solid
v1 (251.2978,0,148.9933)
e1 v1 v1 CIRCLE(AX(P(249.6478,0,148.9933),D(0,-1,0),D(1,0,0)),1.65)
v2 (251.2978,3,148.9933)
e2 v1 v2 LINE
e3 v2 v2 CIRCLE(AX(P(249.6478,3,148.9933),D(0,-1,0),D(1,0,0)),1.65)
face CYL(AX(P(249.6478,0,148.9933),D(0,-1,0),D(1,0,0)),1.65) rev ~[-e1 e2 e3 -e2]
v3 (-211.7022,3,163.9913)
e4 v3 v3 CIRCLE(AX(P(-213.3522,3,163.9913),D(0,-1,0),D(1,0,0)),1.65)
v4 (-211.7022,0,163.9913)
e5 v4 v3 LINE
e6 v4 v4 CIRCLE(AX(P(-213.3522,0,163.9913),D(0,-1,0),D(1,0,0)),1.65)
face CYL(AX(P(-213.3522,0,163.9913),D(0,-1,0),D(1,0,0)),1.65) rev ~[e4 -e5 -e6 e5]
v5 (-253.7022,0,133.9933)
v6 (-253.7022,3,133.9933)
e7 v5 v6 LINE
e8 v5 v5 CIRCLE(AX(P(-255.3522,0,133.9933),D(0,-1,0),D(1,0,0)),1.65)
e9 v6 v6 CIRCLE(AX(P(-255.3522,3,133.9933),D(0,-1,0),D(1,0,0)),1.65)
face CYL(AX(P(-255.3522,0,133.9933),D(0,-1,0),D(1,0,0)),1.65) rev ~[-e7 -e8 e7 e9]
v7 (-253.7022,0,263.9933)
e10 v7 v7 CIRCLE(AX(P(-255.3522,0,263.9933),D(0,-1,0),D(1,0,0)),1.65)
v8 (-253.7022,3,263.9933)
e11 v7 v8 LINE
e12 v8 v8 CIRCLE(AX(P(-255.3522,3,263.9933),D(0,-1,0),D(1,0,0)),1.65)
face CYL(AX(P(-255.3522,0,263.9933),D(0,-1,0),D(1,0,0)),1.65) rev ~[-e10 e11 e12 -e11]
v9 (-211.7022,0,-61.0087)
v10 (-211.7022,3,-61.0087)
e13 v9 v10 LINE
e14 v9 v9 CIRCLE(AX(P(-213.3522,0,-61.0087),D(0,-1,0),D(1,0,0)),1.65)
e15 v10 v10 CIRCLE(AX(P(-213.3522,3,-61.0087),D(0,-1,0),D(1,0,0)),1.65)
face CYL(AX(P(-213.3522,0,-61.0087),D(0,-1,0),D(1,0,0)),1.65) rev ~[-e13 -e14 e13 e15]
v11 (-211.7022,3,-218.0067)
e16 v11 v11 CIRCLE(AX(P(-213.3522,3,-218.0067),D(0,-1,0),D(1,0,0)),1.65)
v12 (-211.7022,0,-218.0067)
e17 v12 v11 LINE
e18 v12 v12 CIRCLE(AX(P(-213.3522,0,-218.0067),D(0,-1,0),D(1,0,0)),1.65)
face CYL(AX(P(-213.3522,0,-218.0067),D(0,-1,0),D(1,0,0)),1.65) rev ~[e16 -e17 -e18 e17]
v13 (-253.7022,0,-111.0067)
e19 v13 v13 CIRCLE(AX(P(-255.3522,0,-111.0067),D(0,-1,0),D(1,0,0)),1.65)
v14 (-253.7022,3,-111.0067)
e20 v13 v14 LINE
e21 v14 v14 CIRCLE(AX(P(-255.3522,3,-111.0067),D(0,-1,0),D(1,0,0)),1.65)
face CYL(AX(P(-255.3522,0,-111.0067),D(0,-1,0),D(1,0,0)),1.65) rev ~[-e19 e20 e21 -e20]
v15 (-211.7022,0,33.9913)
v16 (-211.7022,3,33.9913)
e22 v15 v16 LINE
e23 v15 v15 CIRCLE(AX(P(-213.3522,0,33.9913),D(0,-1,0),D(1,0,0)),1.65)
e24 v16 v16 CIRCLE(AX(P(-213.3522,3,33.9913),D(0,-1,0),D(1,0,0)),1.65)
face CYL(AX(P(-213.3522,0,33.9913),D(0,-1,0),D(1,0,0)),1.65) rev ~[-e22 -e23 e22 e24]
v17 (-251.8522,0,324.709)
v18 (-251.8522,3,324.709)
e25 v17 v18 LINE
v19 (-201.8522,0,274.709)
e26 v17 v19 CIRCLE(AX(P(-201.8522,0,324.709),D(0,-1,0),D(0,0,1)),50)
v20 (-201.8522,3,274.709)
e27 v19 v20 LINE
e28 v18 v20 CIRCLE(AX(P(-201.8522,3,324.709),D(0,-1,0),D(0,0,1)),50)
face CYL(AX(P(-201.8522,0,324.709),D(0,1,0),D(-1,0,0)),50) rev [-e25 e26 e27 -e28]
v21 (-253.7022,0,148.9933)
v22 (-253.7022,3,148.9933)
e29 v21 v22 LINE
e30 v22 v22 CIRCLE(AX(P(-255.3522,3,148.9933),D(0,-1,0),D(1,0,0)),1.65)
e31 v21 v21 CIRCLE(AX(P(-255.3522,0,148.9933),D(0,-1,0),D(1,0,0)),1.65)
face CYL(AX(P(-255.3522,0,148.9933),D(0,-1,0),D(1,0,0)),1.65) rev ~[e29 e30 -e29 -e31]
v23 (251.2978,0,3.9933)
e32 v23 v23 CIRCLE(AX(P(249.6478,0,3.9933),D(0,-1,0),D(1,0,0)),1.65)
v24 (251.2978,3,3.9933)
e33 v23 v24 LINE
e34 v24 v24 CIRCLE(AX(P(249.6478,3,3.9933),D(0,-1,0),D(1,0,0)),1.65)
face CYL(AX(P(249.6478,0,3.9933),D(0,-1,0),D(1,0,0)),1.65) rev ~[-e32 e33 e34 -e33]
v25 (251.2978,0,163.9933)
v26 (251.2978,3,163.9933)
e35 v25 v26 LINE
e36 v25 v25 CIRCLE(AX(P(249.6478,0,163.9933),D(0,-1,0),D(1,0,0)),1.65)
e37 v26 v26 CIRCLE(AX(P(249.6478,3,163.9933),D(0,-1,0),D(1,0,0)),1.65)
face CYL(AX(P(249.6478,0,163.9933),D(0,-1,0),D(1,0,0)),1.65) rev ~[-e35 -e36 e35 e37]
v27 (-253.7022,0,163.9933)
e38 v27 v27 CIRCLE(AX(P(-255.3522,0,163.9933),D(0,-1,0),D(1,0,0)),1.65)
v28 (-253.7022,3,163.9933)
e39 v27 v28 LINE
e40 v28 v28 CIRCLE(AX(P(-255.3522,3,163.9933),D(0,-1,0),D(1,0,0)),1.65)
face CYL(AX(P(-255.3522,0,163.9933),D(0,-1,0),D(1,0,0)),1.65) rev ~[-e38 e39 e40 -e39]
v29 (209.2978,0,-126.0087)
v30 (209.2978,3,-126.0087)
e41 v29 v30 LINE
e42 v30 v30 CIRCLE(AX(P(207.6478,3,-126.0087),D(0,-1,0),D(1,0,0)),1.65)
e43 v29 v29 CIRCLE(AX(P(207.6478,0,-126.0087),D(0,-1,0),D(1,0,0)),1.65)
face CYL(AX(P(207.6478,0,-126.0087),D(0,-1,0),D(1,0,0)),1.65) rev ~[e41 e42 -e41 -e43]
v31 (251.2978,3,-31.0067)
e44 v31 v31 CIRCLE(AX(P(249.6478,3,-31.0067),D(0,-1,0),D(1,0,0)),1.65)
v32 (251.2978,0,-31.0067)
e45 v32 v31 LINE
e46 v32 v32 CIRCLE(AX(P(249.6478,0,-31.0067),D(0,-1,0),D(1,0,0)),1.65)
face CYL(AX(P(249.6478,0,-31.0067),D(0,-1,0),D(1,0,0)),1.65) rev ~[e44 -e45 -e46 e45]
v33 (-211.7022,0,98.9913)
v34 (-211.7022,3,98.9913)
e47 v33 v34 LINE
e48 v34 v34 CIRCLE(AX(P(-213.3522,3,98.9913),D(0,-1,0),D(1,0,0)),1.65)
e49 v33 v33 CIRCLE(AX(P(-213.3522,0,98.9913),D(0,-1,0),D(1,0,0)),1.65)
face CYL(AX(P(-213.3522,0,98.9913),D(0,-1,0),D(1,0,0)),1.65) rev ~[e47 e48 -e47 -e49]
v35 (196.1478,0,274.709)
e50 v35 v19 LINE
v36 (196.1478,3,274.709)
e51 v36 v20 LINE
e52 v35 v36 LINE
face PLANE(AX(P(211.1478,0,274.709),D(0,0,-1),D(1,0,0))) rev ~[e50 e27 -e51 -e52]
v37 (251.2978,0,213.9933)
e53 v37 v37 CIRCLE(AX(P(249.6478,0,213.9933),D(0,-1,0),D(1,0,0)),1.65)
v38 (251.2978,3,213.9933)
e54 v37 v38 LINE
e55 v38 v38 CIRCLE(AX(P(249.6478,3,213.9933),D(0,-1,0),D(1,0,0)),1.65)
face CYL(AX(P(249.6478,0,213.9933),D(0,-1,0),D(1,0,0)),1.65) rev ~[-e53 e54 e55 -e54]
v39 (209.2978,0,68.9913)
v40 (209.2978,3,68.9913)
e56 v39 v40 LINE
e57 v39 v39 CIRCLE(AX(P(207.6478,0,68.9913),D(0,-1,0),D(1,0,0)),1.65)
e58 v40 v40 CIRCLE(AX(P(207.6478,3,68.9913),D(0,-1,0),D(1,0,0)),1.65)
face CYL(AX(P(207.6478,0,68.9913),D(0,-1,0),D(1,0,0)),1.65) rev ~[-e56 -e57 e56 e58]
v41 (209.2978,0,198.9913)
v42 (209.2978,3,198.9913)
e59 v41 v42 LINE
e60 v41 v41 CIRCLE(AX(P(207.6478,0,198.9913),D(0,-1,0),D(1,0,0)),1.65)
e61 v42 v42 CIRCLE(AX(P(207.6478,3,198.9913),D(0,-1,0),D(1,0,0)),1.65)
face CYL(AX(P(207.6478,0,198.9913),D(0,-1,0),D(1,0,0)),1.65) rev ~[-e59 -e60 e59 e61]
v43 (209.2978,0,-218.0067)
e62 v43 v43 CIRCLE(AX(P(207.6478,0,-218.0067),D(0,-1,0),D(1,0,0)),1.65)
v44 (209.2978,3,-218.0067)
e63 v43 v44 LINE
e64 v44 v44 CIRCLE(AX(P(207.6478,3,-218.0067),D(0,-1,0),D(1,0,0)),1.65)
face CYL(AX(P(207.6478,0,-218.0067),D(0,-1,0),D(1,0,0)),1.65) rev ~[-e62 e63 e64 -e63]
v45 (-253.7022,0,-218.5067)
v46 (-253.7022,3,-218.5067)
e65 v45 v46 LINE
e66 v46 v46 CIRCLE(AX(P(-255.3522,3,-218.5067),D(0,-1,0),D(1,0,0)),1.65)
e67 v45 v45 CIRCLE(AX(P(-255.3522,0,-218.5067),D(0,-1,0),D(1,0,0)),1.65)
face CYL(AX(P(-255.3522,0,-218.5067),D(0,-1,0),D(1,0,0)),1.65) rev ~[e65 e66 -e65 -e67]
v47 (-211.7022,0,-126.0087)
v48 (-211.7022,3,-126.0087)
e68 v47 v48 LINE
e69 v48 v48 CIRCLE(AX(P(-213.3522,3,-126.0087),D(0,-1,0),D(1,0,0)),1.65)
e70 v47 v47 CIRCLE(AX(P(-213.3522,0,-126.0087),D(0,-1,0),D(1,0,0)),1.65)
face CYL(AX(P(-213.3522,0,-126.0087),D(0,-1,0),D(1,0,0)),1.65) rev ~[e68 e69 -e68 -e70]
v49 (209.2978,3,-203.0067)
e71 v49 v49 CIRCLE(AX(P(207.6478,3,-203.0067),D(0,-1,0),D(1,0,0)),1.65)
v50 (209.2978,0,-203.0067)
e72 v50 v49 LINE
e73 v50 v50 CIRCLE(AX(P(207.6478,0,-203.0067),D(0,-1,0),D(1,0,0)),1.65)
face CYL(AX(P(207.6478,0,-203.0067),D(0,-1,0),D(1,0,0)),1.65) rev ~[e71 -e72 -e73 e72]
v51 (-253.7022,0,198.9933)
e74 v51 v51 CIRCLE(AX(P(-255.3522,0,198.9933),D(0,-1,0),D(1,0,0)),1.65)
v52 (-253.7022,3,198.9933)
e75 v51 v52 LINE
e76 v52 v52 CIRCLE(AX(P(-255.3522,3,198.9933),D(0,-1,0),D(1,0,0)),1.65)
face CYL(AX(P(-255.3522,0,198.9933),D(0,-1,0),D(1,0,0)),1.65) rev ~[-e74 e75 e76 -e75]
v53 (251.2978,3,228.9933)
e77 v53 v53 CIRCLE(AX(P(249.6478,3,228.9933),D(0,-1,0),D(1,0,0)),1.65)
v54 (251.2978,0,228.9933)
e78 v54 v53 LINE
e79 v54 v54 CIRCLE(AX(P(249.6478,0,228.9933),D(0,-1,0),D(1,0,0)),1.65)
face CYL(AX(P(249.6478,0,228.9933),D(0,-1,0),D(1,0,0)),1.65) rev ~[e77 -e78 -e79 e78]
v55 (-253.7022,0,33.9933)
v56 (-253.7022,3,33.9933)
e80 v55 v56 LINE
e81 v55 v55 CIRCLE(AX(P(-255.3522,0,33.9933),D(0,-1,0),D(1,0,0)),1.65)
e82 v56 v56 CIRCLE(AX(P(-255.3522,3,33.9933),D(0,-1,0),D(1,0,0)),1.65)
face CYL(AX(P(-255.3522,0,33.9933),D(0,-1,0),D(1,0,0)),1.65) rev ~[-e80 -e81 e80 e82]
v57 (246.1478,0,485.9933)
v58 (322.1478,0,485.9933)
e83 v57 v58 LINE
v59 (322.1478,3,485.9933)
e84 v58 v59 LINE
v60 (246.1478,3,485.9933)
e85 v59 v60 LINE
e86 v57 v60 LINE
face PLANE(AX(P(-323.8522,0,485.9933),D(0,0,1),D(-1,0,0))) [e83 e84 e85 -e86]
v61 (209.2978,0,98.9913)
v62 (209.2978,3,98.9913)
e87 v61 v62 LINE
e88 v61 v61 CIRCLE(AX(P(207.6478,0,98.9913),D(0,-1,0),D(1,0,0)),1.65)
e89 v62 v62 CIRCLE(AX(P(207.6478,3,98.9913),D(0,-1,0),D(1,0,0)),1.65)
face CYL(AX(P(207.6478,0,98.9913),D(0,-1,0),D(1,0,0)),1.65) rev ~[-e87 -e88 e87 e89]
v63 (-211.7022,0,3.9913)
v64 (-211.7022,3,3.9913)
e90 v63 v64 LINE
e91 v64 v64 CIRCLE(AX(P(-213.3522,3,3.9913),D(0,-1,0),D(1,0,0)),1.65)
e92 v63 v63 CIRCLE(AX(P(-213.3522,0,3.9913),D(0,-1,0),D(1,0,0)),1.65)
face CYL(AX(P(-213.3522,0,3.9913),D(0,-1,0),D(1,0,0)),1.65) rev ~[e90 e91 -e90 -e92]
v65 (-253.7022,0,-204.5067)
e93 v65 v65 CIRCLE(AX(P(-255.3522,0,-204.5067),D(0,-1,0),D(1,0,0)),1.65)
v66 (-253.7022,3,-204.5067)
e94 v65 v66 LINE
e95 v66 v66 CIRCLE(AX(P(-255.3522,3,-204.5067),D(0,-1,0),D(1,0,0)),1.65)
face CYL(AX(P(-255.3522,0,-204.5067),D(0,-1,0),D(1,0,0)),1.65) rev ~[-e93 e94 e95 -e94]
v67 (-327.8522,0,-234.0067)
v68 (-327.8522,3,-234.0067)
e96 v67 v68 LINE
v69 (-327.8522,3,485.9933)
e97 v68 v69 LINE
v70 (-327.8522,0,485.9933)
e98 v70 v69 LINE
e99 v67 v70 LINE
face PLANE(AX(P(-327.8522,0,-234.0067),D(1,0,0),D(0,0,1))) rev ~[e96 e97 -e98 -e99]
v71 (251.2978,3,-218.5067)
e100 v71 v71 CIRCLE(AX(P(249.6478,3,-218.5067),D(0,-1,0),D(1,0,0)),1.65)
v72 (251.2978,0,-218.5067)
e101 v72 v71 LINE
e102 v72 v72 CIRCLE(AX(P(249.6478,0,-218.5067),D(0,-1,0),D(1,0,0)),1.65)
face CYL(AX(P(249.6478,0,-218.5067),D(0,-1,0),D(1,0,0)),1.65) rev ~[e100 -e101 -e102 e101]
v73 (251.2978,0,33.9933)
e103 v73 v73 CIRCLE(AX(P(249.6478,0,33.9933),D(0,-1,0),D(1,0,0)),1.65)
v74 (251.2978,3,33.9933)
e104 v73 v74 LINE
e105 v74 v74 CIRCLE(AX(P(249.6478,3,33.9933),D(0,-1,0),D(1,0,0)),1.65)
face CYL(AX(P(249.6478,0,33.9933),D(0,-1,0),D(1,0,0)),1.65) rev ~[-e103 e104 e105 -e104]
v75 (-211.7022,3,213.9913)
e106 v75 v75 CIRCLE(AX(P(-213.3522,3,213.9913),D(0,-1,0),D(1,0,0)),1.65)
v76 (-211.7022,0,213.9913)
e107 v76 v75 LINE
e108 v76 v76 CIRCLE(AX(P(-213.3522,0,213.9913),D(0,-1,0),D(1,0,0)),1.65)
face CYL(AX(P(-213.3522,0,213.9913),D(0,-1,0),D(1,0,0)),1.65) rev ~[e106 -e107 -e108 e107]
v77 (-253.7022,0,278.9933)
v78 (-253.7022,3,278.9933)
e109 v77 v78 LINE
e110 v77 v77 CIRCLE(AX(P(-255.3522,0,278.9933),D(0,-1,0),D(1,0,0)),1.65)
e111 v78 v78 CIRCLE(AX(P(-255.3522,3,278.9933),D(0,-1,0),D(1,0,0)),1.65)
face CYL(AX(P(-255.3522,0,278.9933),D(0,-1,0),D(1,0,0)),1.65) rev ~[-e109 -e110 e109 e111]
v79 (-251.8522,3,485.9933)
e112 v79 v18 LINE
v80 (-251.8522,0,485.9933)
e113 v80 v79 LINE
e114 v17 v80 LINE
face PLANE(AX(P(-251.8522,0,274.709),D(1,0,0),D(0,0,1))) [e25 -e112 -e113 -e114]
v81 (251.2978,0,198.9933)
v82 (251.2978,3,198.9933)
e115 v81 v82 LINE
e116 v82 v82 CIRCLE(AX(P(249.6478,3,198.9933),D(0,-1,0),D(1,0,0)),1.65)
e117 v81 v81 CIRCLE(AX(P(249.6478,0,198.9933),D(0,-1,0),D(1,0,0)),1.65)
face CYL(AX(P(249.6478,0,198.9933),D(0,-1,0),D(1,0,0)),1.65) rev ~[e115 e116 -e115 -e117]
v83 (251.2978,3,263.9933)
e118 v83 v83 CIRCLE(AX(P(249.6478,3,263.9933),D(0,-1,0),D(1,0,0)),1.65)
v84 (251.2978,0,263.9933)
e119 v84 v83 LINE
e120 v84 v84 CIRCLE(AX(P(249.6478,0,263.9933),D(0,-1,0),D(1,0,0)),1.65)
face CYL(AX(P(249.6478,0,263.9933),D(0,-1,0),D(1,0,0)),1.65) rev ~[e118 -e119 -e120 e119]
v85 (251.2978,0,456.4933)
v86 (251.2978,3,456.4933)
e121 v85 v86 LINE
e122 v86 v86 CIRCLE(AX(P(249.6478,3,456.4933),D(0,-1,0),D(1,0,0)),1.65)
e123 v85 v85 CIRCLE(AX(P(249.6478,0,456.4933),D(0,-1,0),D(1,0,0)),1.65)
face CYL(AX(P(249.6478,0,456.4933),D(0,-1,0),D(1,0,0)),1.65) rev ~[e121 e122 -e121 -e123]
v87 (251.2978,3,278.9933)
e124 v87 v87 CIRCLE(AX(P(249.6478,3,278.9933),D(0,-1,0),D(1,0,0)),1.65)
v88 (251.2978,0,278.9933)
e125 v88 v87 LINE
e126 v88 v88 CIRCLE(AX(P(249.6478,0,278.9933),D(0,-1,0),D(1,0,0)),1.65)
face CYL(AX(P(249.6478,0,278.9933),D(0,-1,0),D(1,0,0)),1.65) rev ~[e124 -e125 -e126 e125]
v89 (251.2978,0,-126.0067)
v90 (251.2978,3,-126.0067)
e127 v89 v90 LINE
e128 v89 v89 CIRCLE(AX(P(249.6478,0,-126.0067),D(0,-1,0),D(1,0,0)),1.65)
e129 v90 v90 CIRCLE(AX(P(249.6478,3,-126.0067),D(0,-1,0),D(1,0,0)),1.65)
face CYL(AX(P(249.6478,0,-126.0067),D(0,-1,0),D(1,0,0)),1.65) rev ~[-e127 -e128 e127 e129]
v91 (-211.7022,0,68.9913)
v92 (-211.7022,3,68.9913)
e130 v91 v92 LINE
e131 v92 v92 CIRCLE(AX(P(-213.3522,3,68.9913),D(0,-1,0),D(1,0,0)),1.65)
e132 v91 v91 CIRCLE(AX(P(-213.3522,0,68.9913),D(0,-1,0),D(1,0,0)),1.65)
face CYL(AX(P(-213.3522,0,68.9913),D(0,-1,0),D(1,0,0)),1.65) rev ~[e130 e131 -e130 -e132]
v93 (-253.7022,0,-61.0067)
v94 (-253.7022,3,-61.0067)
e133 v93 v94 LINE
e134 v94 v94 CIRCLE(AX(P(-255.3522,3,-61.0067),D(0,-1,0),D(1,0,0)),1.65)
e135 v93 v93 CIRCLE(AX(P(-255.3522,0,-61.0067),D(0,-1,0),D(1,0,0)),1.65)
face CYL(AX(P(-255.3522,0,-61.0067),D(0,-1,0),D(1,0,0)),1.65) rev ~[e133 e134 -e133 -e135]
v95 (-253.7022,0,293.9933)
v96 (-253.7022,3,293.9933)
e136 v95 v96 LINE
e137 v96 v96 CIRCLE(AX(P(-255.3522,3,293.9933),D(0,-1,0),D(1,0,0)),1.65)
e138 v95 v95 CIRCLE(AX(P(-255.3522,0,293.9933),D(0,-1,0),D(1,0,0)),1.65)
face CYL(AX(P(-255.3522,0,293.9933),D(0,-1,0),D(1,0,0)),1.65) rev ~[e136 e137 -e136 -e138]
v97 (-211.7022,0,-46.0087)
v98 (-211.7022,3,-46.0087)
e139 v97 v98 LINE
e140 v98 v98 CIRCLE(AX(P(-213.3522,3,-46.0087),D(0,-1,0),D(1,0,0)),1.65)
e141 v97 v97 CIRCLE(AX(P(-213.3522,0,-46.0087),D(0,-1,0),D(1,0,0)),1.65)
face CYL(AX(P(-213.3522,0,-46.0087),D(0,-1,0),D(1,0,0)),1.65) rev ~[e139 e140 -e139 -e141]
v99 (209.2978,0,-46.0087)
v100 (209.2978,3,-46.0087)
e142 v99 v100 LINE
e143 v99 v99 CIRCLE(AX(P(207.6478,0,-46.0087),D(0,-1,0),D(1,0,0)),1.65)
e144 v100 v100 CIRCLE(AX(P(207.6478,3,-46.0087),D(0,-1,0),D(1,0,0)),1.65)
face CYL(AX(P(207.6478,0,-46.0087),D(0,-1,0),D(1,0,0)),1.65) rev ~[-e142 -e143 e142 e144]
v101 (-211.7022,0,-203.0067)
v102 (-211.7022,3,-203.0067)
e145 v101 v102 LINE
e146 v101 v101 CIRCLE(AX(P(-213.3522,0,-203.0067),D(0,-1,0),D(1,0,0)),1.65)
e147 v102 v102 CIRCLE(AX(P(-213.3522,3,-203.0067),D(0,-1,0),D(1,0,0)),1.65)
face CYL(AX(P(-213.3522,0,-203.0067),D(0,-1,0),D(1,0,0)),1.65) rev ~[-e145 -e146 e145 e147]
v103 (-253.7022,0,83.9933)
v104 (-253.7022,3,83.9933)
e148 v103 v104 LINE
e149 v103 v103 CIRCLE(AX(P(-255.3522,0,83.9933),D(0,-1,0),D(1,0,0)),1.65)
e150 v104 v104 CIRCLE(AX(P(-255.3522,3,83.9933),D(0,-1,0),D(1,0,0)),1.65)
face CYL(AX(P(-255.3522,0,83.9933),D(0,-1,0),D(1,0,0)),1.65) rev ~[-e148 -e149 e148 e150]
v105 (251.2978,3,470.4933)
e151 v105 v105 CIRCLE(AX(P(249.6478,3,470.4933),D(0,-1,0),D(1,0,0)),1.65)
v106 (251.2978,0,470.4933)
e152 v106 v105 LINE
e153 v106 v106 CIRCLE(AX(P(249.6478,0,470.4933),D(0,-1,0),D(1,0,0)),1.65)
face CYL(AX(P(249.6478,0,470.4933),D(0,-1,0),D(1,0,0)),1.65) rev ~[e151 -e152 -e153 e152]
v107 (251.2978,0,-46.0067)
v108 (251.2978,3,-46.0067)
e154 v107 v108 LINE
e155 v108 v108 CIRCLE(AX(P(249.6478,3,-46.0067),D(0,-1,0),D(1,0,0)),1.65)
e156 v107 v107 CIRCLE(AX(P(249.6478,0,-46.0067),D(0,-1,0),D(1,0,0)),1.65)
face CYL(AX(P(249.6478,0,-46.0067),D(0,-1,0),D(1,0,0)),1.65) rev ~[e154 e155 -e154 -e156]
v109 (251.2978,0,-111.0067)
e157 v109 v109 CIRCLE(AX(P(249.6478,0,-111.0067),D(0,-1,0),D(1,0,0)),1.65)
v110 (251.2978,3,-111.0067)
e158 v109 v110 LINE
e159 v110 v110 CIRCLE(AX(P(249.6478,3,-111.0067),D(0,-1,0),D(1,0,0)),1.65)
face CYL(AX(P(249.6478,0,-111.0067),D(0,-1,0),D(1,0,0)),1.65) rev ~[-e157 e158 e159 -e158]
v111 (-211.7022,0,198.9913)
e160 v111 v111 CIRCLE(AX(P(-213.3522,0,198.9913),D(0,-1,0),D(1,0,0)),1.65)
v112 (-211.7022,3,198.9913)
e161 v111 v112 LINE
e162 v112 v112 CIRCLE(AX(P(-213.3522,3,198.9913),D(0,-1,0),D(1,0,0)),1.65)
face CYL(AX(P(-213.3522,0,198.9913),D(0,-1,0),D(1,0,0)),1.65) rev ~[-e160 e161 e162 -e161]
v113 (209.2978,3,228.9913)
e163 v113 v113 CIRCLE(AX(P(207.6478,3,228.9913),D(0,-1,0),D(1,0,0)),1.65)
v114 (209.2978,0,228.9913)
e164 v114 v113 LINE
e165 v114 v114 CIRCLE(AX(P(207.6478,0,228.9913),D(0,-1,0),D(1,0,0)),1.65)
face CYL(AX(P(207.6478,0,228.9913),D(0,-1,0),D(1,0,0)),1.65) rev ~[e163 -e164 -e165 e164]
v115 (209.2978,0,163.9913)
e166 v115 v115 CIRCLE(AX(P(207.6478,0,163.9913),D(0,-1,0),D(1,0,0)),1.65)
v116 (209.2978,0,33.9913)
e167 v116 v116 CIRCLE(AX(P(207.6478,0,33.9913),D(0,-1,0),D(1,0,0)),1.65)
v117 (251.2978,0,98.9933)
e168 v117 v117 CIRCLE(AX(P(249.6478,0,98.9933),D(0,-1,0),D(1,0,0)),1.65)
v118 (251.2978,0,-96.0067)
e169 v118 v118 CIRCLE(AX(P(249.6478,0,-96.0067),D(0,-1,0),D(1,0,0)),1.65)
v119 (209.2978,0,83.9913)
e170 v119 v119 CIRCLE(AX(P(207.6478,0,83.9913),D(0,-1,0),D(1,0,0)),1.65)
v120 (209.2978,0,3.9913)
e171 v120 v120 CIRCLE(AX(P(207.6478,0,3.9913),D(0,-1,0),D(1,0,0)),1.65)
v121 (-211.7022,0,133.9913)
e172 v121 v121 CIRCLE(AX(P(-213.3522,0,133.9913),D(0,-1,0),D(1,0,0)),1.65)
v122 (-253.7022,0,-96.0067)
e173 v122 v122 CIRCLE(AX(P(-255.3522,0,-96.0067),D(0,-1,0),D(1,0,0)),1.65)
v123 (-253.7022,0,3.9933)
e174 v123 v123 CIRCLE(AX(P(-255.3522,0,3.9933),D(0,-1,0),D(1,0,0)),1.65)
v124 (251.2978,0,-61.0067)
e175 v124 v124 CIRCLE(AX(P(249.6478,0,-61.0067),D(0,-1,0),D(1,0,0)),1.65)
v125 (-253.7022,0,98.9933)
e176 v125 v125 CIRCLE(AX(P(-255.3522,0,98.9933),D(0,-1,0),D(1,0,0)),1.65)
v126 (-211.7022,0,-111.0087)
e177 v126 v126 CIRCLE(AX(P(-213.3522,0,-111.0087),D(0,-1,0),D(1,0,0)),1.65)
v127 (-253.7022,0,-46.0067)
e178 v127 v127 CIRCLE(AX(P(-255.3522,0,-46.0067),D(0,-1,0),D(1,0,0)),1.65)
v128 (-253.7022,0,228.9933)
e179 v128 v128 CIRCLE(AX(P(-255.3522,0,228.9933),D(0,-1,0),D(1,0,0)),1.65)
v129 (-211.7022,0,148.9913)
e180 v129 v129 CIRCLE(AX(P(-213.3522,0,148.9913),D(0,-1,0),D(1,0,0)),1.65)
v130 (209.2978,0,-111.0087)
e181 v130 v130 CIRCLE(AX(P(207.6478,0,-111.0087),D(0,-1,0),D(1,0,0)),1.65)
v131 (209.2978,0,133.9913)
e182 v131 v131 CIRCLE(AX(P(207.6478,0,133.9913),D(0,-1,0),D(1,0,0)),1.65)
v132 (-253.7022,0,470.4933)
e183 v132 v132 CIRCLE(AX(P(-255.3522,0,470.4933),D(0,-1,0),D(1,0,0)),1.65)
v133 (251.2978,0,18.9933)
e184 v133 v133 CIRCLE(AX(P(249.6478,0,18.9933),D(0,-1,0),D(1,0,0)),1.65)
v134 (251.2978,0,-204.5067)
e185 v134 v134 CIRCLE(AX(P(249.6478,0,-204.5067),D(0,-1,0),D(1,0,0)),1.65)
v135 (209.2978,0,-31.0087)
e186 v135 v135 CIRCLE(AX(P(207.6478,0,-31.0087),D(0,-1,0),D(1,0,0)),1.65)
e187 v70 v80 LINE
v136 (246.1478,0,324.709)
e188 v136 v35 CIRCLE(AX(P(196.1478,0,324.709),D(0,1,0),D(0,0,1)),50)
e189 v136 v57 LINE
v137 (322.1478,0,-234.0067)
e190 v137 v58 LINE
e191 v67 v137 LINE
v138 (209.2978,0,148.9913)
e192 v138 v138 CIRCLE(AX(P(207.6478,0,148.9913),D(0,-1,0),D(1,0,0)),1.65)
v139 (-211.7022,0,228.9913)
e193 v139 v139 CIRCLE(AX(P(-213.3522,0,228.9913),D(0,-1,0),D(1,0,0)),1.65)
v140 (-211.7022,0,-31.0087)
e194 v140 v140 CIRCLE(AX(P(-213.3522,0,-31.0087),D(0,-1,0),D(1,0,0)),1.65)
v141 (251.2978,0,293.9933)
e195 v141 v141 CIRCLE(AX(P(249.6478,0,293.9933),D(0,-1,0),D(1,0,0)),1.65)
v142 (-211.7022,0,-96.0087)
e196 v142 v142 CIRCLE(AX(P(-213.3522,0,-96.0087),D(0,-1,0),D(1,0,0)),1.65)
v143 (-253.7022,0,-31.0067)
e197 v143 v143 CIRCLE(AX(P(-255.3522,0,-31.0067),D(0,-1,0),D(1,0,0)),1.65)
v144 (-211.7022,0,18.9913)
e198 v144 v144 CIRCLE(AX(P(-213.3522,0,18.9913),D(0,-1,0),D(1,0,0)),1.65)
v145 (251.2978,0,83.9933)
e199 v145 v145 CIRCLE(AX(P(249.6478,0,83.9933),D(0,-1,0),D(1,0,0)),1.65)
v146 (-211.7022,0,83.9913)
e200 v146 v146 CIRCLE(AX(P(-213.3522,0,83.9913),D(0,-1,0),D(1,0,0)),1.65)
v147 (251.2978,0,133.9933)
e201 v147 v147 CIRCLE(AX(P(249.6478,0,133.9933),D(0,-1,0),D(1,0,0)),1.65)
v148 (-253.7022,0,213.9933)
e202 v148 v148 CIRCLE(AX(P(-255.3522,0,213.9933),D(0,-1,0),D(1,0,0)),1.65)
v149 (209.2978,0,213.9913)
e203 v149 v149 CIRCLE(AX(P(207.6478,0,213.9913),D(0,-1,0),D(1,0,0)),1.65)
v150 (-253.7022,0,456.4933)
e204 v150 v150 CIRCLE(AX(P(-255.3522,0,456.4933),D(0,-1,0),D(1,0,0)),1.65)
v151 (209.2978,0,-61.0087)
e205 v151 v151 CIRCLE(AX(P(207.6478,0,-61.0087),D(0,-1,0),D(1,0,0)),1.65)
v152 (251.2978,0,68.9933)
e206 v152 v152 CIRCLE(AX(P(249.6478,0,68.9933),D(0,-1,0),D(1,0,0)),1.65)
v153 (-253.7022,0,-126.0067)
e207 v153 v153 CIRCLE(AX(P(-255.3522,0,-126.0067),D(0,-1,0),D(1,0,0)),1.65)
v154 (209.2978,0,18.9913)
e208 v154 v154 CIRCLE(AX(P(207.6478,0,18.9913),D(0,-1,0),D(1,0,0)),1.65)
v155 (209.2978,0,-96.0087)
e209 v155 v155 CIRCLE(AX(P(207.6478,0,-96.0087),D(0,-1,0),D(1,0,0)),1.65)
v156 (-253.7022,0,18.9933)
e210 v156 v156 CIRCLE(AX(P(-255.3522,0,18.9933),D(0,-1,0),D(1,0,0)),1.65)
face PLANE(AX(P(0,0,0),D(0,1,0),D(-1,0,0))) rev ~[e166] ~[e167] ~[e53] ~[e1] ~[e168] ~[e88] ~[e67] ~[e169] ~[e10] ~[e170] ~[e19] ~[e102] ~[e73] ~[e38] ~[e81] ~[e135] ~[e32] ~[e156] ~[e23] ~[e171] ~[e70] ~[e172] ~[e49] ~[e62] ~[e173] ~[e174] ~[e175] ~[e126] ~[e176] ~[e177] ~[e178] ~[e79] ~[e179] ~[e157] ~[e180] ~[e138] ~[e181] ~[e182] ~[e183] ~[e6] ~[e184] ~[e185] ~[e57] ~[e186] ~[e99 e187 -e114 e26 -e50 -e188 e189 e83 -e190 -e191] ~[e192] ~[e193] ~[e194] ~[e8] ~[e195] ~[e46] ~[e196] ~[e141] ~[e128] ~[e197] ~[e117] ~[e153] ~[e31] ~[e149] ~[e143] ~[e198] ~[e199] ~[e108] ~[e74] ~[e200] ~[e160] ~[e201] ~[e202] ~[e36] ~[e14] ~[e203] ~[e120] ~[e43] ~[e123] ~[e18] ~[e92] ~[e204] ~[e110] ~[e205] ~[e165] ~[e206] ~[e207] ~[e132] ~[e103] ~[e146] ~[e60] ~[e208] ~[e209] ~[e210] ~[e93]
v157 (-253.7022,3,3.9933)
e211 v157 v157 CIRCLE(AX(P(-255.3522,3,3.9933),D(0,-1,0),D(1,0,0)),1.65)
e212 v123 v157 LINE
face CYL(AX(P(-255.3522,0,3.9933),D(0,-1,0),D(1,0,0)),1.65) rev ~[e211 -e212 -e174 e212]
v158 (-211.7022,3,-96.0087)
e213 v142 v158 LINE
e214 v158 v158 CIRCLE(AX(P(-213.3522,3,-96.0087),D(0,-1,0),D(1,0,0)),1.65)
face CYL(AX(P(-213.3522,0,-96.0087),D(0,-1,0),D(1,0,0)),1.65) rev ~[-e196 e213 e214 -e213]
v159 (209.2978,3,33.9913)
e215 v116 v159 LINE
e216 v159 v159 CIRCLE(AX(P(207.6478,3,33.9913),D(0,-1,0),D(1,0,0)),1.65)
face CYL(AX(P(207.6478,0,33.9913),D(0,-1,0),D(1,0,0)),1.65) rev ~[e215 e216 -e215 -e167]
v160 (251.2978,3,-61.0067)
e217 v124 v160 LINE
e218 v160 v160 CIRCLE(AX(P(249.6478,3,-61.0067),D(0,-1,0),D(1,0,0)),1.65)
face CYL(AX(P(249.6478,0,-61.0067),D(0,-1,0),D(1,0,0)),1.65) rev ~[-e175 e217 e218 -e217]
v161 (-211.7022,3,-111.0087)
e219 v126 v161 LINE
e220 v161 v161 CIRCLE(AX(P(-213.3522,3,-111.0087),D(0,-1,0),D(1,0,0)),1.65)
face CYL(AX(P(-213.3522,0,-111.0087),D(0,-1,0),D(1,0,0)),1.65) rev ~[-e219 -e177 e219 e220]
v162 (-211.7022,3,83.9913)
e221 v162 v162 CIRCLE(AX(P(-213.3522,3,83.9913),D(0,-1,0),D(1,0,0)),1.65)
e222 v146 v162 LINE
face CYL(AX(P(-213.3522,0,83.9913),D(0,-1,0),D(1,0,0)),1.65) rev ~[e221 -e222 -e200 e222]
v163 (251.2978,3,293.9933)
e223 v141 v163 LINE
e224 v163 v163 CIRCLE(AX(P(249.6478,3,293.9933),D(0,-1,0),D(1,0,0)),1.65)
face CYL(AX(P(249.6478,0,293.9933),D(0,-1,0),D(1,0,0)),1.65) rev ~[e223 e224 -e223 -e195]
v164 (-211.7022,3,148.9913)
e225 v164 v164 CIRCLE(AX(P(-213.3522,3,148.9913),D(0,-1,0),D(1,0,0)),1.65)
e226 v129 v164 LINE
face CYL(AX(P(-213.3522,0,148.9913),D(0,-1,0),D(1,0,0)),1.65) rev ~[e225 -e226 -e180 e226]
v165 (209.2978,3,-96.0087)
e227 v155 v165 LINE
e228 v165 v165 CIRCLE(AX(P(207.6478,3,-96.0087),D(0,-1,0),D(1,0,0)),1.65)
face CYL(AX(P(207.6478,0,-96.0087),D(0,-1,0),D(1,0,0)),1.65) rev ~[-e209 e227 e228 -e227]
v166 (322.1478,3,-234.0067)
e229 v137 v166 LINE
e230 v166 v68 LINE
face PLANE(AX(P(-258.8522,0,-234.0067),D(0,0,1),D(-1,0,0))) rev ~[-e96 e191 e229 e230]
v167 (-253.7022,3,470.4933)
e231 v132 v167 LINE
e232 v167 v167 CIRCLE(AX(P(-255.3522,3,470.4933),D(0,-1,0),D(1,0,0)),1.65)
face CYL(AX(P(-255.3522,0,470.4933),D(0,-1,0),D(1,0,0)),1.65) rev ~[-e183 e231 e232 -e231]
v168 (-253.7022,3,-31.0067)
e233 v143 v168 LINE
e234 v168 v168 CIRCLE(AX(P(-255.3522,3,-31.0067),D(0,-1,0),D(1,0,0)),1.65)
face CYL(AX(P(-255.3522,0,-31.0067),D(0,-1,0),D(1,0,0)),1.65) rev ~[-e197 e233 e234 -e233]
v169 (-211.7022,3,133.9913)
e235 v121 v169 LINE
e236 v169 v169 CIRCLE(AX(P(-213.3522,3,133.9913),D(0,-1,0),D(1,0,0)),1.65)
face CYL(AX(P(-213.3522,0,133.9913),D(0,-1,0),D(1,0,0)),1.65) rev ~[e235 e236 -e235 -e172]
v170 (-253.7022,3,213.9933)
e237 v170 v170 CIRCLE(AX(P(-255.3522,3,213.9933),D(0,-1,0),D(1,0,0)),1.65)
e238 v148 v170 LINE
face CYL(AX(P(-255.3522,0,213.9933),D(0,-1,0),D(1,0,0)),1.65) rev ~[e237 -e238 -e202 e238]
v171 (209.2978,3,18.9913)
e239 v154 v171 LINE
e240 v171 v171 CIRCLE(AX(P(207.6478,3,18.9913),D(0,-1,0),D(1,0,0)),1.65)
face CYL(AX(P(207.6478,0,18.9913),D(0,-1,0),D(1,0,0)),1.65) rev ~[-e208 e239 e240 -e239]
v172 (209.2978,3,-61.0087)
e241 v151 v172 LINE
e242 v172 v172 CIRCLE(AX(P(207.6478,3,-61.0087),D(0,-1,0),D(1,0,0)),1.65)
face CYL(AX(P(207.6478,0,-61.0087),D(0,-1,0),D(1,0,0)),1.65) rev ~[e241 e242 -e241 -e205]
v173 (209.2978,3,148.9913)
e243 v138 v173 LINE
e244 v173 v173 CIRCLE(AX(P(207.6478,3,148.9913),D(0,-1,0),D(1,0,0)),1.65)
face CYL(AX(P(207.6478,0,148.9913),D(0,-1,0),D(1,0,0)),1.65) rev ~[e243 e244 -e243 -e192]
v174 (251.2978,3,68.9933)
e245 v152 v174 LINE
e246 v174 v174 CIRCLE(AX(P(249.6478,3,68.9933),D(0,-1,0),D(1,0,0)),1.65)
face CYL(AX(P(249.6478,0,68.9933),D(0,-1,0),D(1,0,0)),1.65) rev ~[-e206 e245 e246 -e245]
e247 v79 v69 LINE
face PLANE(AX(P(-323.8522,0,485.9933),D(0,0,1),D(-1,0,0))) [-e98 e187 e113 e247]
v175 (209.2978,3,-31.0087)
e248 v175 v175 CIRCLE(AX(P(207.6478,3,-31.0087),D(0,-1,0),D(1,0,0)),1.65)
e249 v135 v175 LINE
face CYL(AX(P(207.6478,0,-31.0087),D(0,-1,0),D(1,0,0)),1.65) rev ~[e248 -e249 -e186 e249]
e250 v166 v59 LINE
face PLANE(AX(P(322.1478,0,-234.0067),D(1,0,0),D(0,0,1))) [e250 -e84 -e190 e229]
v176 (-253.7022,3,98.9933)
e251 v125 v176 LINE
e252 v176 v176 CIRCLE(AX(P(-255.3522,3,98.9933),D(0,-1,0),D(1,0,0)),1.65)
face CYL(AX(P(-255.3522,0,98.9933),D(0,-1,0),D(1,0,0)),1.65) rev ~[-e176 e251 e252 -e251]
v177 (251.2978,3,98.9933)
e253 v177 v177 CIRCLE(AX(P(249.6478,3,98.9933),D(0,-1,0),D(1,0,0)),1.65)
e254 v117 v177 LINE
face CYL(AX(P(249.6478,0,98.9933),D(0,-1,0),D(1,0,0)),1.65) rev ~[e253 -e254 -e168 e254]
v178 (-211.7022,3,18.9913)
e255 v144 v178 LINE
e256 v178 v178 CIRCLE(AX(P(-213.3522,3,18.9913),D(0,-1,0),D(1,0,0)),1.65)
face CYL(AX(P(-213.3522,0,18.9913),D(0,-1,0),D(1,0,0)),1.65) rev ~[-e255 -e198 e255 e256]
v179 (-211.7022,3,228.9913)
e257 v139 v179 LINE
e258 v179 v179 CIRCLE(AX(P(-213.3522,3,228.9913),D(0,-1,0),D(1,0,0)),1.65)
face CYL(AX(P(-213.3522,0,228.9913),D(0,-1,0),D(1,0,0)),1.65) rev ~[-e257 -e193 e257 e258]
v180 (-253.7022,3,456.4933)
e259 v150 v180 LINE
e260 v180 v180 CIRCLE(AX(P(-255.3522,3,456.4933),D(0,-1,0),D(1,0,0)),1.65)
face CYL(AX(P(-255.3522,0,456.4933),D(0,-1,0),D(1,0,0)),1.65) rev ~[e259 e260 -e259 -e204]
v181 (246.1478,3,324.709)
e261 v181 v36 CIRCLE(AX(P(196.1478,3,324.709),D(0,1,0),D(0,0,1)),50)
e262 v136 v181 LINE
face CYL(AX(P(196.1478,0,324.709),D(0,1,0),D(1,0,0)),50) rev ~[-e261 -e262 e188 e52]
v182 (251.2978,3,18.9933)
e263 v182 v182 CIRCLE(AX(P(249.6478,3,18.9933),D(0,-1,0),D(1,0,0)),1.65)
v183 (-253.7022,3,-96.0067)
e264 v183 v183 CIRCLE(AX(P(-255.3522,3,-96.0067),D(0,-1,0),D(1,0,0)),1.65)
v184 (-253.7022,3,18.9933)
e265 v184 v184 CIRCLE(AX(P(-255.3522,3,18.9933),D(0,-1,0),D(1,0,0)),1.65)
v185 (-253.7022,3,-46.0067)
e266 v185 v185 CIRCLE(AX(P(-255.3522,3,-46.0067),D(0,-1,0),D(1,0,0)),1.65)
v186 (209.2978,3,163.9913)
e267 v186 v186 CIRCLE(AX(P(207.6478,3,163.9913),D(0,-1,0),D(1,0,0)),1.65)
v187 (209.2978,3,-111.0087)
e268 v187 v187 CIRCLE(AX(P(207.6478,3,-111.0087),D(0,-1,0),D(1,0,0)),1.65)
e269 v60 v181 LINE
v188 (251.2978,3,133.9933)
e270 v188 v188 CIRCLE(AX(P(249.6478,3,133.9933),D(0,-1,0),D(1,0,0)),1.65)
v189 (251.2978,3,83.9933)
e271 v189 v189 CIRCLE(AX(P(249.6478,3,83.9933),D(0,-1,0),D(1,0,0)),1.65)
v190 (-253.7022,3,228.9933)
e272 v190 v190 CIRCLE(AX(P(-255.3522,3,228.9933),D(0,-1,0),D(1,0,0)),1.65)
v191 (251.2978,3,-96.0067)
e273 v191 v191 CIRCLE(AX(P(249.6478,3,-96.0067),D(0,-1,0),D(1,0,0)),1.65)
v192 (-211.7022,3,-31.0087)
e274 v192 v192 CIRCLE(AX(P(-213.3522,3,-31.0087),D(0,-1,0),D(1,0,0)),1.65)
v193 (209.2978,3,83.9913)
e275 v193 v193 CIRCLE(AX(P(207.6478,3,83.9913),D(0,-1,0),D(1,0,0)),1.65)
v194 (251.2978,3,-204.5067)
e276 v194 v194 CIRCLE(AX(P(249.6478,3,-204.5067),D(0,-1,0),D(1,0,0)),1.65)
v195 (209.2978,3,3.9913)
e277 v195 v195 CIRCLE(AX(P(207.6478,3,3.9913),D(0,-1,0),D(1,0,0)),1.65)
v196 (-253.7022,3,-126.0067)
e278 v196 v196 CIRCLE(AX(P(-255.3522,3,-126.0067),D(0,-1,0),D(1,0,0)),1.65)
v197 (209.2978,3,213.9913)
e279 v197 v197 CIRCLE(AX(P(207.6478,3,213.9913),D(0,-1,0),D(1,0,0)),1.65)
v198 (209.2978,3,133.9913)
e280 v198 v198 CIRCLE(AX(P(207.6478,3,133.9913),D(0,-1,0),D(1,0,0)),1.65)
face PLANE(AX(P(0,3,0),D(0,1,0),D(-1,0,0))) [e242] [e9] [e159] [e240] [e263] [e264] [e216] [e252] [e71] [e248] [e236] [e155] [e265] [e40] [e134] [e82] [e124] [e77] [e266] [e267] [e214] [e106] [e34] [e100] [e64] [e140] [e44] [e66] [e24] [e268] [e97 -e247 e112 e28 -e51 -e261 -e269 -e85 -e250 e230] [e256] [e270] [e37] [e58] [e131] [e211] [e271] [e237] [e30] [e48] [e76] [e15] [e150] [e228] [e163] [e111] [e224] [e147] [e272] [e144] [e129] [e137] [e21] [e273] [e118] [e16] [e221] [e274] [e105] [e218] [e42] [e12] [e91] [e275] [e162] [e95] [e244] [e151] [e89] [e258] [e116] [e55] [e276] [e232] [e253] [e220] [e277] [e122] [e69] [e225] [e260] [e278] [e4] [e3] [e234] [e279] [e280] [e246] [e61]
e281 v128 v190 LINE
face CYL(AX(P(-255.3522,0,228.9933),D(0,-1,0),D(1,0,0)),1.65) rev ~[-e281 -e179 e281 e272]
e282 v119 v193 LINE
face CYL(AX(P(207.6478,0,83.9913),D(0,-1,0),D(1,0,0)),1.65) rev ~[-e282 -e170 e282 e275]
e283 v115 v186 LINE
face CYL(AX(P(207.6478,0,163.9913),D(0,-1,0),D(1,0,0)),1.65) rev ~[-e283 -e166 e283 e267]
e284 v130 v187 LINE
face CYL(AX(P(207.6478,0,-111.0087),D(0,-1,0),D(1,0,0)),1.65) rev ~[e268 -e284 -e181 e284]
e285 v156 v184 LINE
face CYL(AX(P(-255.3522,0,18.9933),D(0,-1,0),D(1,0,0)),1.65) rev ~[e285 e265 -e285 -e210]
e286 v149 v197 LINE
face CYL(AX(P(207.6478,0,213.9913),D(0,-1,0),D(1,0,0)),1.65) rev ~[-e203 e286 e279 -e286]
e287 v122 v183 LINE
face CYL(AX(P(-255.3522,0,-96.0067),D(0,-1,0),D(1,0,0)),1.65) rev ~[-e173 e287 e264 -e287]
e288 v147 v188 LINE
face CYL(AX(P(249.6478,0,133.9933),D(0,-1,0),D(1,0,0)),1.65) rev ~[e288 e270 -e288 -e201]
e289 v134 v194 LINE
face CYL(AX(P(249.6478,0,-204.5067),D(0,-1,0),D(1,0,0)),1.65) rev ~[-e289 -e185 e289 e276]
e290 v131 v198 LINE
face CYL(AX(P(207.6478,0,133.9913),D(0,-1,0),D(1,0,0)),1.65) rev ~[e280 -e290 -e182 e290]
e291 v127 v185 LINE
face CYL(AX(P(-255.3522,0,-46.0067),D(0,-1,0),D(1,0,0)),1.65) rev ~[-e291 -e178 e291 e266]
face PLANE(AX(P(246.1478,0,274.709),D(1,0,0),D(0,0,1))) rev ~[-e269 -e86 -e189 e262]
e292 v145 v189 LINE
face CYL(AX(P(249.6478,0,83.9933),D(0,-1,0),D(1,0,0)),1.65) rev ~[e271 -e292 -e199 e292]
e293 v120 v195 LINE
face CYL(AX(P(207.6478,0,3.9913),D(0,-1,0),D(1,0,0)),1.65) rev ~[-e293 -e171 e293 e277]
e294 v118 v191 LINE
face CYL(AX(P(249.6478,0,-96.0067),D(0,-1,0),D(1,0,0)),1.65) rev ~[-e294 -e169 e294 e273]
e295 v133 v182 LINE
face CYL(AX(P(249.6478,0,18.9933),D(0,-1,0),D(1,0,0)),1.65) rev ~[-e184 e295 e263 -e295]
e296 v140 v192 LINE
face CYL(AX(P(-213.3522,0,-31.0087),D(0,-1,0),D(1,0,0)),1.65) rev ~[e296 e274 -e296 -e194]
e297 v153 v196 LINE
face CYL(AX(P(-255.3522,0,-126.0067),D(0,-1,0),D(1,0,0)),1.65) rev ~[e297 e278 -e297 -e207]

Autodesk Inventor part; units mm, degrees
ref_plane "YZ Plane" through (0, 0, 0) normal (1, 0, 0) x (0, 1, 0)
ref_plane "XZ Plane" through (0, 0, 0) normal (0, 1, 0) x (-1, 0, 0)
ref_plane "XY Plane" through (0, 0, 0) normal (0, 0, 1) x (1, 0, 0)
sketch "Sketch1" plane through (0, 0, 0) normal (0, 1, 0) x (-1, 0, 0)
  line L0 (323.8522, 485.9933) -> (327.8522, 485.9933)
  line L1 (327.8522, -234.0067) -> (327.8522, 485.9933)
  line L2 (-318.1478, -234.0067) -> (-322.1478, -234.0067)
  line L3 (-322.1478, -234.0067) -> (-322.1478, 485.9933)
  line L4 (327.8522, 485.9933) -> (-322.1478, 485.9933)
  line L5 (-322.1478, 485.9933) -> (-322.1478, -234.0067)
  line L6 (-322.1478, -234.0067) -> (327.8522, -234.0067)
  line L7 (327.8522, -234.0067) -> (327.8522, 485.9933)
  circle A0 centre (255.3522, -204.5067) radius 1.65 projected
  circle A1 centre (255.3522, -218.5067) radius 1.65 projected
  circle A2 centre (255.3522, 470.4933) radius 1.65 projected
  circle A3 centre (255.3522, 456.4933) radius 1.65 projected
  circle A4 centre (255.3522, 263.9933) radius 1.65 projected
  circle A5 centre (255.3522, 293.9933) radius 1.65 projected
  circle A6 centre (255.3522, 278.9933) radius 1.65 projected
  circle A7 centre (255.3522, -111.0067) radius 1.65 projected
  circle A8 centre (255.3522, -61.0067) radius 1.65 projected
  circle A9 centre (255.3522, -31.0067) radius 1.65 projected
  circle A10 centre (255.3522, 18.9933) radius 1.65 projected
  circle A11 centre (255.3522, 68.9933) radius 1.65 projected
  circle A12 centre (255.3522, 98.9933) radius 1.65 projected
  circle A13 centre (255.3522, 148.9933) radius 1.65 projected
  circle A14 centre (255.3522, 198.9933) radius 1.65 projected
  circle A15 centre (255.3522, 228.9933) radius 1.65 projected
  circle A16 centre (255.3522, 213.9933) radius 1.65 projected
  circle A17 centre (255.3522, 163.9933) radius 1.65 projected
  circle A18 centre (255.3522, 133.9933) radius 1.65 projected
  circle A19 centre (255.3522, 83.9933) radius 1.65 projected
  circle A20 centre (255.3522, 33.9933) radius 1.65 projected
  circle A21 centre (255.3522, 3.9933) radius 1.65 projected
  circle A22 centre (255.3522, -46.0067) radius 1.65 projected
  circle A23 centre (255.3522, -96.0067) radius 1.65 projected
  circle A24 centre (255.3522, -126.0067) radius 1.65 projected
  line L8 (251.8522, -234.0067) -> (251.8522, 485.9933) projected
  line L9 (251.8522, 485.9933) -> (258.8522, 485.9933) projected
  line L10 (258.8522, 485.9933) -> (258.8522, -234.0067) projected
  line L11 (258.8522, -234.0067) -> (251.8522, -234.0067) projected
  circle A25 centre (213.3522, -218.0067) radius 1.65 projected
  circle A26 centre (213.3522, -203.0067) radius 1.65 projected
  circle A27 centre (213.3522, 228.9913) radius 1.65 projected
  circle A28 centre (213.3522, 213.9913) radius 1.65 projected
  circle A29 centre (213.3522, 163.9913) radius 1.65 projected
  circle A30 centre (213.3522, 133.9913) radius 1.65 projected
  circle A31 centre (213.3522, 83.9913) radius 1.65 projected
  circle A32 centre (213.3522, 33.9913) radius 1.65 projected
  circle A33 centre (213.3522, 3.9913) radius 1.65 projected
  circle A34 centre (213.3522, -46.0087) radius 1.65 projected
  circle A35 centre (213.3522, -96.0087) radius 1.65 projected
  circle A36 centre (213.3522, -111.0087) radius 1.65 projected
  circle A37 centre (213.3522, -126.0087) radius 1.65 projected
  circle A38 centre (213.3522, -61.0087) radius 1.65 projected
  circle A39 centre (213.3522, -31.0087) radius 1.65 projected
  circle A40 centre (213.3522, 18.9913) radius 1.65 projected
  circle A41 centre (213.3522, 68.9913) radius 1.65 projected
  circle A42 centre (213.3522, 98.9913) radius 1.65 projected
  circle A43 centre (213.3522, 148.9913) radius 1.65 projected
  circle A44 centre (213.3522, 198.9913) radius 1.65 projected
  line L12 (209.8522, 274.709) -> (216.8522, 274.709) projected
  line L13 (216.8522, -234.0067) -> (216.8522, 274.709) projected
  line L14 (216.8522, -234.0067) -> (209.8522, -234.0067) projected
  line L15 (209.8522, -234.0067) -> (209.8522, 274.709) projected
  circle A45 centre (-249.6478, -204.5067) radius 1.65 projected
  circle A46 centre (-249.6478, -218.5067) radius 1.65 projected
  circle A47 centre (-249.6478, 470.4933) radius 1.65 projected
  circle A48 centre (-249.6478, 456.4933) radius 1.65 projected
  circle A49 centre (-249.6478, 263.9933) radius 1.65 projected
  circle A50 centre (-249.6478, 293.9933) radius 1.65 projected
  circle A51 centre (-249.6478, 278.9933) radius 1.65 projected
  circle A52 centre (-249.6478, -111.0067) radius 1.65 projected
  circle A53 centre (-249.6478, -61.0067) radius 1.65 projected
  circle A54 centre (-249.6478, -31.0067) radius 1.65 projected
  circle A55 centre (-249.6478, 18.9933) radius 1.65 projected
  circle A56 centre (-249.6478, 68.9933) radius 1.65 projected
  circle A57 centre (-249.6478, 98.9933) radius 1.65 projected
  circle A58 centre (-249.6478, 148.9933) radius 1.65 projected
  circle A59 centre (-249.6478, 198.9933) radius 1.65 projected
  circle A60 centre (-249.6478, 228.9933) radius 1.65 projected
  circle A61 centre (-249.6478, 213.9933) radius 1.65 projected
  circle A62 centre (-249.6478, 163.9933) radius 1.65 projected
  circle A63 centre (-249.6478, 133.9933) radius 1.65 projected
  circle A64 centre (-249.6478, 83.9933) radius 1.65 projected
  circle A65 centre (-249.6478, 33.9933) radius 1.65 projected
  circle A66 centre (-249.6478, 3.9933) radius 1.65 projected
  circle A67 centre (-249.6478, -46.0067) radius 1.65 projected
  circle A68 centre (-249.6478, -96.0067) radius 1.65 projected
  circle A69 centre (-249.6478, -126.0067) radius 1.65 projected
  line L16 (-246.1478, -234.0067) -> (-246.1478, 485.9933) projected
  line L17 (-253.1478, -234.0067) -> (-246.1478, -234.0067) projected
  line L18 (-253.1478, 485.9933) -> (-253.1478, -234.0067) projected
  line L19 (-246.1478, 485.9933) -> (-253.1478, 485.9933) projected
  circle A70 centre (-207.6478, -218.0067) radius 1.65 projected
  circle A71 centre (-207.6478, -203.0067) radius 1.65 projected
  circle A72 centre (-207.6478, 228.9913) radius 1.65 projected
  circle A73 centre (-207.6478, 213.9913) radius 1.65 projected
  circle A74 centre (-207.6478, 163.9913) radius 1.65 projected
  circle A75 centre (-207.6478, 133.9913) radius 1.65 projected
  circle A76 centre (-207.6478, 83.9913) radius 1.65 projected
  circle A77 centre (-207.6478, 33.9913) radius 1.65 projected
  circle A78 centre (-207.6478, 3.9913) radius 1.65 projected
  circle A79 centre (-207.6478, -46.0087) radius 1.65 projected
  circle A80 centre (-207.6478, -96.0087) radius 1.65 projected
  circle A81 centre (-207.6478, -111.0087) radius 1.65 projected
  circle A82 centre (-207.6478, -126.0087) radius 1.65 projected
  circle A83 centre (-207.6478, -61.0087) radius 1.65 projected
  circle A84 centre (-207.6478, -31.0087) radius 1.65 projected
  circle A85 centre (-207.6478, 18.9913) radius 1.65 projected
  circle A86 centre (-207.6478, 68.9913) radius 1.65 projected
  circle A87 centre (-207.6478, 98.9913) radius 1.65 projected
  circle A88 centre (-207.6478, 148.9913) radius 1.65 projected
  circle A89 centre (-207.6478, 198.9913) radius 1.65 projected
  line L20 (-204.1478, 274.709) -> (-211.1478, 274.709) projected
  line L21 (-204.1478, -234.0067) -> (-204.1478, 274.709) projected
  line L22 (-211.1478, -234.0067) -> (-204.1478, -234.0067) projected
  line L23 (-211.1478, -234.0067) -> (-211.1478, 274.709) projected
  dimension "d6" = 650
  dimension "d7" = 720
extrude "Extrusion1" add sketch "Sketch1" along normal blind 3 contours L0 L1 L6 L10 L4 | L10 L6 L8 L4 | L8 L6 L13 L12 L15 L21 L20 L23 L16 L4 | L16 L6 L18 L4 | L18 L6 L2 L3 L4 | L6 L15 L12 L13 | L23 L20 L21 L6 | A0 | A1 | A2 | A3 | A4 | A5 | A6 | A7 | A8 | A9 | A10 | A11 | A12 | A13 | A14 | A15 | A16 | A17 | A18 | A19 | A20 | A21 | A22 | A23 | A24 | A25 | A26 | A27 | A28 | A29 | A30 | A31 | A32 | A33 | A34 | A35 | A36 | A37 | A38 | A39 | A40 | A41 | A42 | A43 | A44 | A45 | A46 | A47 | A48 | A49 | A50 | A51 | A52 | A53 | A54 | A55 | A56 | A57 | A58 | A59 | A60 | A61 | A62 | A63 | A64 | A65 | A66 | A67 | A68 | A69 | A70 | A71 | A72 | A73 | A74 | A75 | A76 | A77 | A78 | A79 | A80 | A81 | A82 | A83 | A84 | A85 | A86 | A87 | A88 | A89
sketch "Sketch2" plane through (0, 0, 0) normal (0, -1, 0) x (1, 0, 0)
  circle A0 centre (-255.3522, -204.5067) radius 1.65 projected
  circle A1 centre (-255.3522, -218.5067) radius 1.65 projected
  circle A2 centre (-255.3522, 470.4933) radius 1.65 projected
  circle A3 centre (-255.3522, 456.4933) radius 1.65 projected
  circle A4 centre (-255.3522, 263.9933) radius 1.65 projected
  circle A5 centre (-255.3522, 293.9933) radius 1.65 projected
  circle A6 centre (-255.3522, 278.9933) radius 1.65 projected
  circle A7 centre (-255.3522, -111.0067) radius 1.65 projected
  circle A8 centre (-255.3522, -61.0067) radius 1.65 projected
  circle A9 centre (-255.3522, -31.0067) radius 1.65 projected
  circle A10 centre (-255.3522, 18.9933) radius 1.65 projected
  circle A11 centre (-255.3522, 68.9933) radius 1.65 projected
  circle A12 centre (-255.3522, 98.9933) radius 1.65 projected
  circle A13 centre (-255.3522, 148.9933) radius 1.65 projected
  circle A14 centre (-255.3522, 198.9933) radius 1.65 projected
  circle A15 centre (-255.3522, 228.9933) radius 1.65 projected
  circle A16 centre (-255.3522, 213.9933) radius 1.65 projected
  circle A17 centre (-255.3522, 163.9933) radius 1.65 projected
  circle A18 centre (-255.3522, 133.9933) radius 1.65 projected
  circle A19 centre (-255.3522, 83.9933) radius 1.65 projected
  circle A20 centre (-255.3522, 33.9933) radius 1.65 projected
  circle A21 centre (-255.3522, 3.9933) radius 1.65 projected
  circle A22 centre (-255.3522, -46.0067) radius 1.65 projected
  circle A23 centre (-255.3522, -96.0067) radius 1.65 projected
  circle A24 centre (-255.3522, -126.0067) radius 1.65 projected
  line L0 (-251.8522, -234.0067) -> (-251.8522, 485.9933) projected
  line L1 (-251.8522, 485.9933) -> (-258.8522, 485.9933) projected
  line L2 (-258.8522, 485.9933) -> (-258.8522, -234.0067) projected
  line L3 (-258.8522, -234.0067) -> (-251.8522, -234.0067) projected
  circle A25 centre (-213.3522, -218.0067) radius 1.65 projected
  circle A26 centre (-213.3522, -203.0067) radius 1.65 projected
  circle A27 centre (-213.3522, 228.9913) radius 1.65 projected
  circle A28 centre (-213.3522, 213.9913) radius 1.65 projected
  circle A29 centre (-213.3522, 163.9913) radius 1.65 projected
  circle A30 centre (-213.3522, 133.9913) radius 1.65 projected
  circle A31 centre (-213.3522, 83.9913) radius 1.65 projected
  circle A32 centre (-213.3522, 33.9913) radius 1.65 projected
  circle A33 centre (-213.3522, 3.9913) radius 1.65 projected
  circle A34 centre (-213.3522, -46.0087) radius 1.65 projected
  circle A35 centre (-213.3522, -96.0087) radius 1.65 projected
  circle A36 centre (-213.3522, -111.0087) radius 1.65 projected
  circle A37 centre (-213.3522, -126.0087) radius 1.65 projected
  circle A38 centre (-213.3522, -61.0087) radius 1.65 projected
  circle A39 centre (-213.3522, -31.0087) radius 1.65 projected
  circle A40 centre (-213.3522, 18.9913) radius 1.65 projected
  circle A41 centre (-213.3522, 68.9913) radius 1.65 projected
  circle A42 centre (-213.3522, 98.9913) radius 1.65 projected
  circle A43 centre (-213.3522, 148.9913) radius 1.65 projected
  circle A44 centre (-213.3522, 198.9913) radius 1.65 projected
  line L4 (-209.8522, 274.709) -> (-216.8522, 274.709) projected
  line L5 (-216.8522, -234.0067) -> (-216.8522, 274.709) projected
  line L6 (-216.8522, -234.0067) -> (-209.8522, -234.0067) projected
  line L7 (-209.8522, -234.0067) -> (-209.8522, 274.709) projected
  circle A45 centre (249.6478, -204.5067) radius 1.65 projected
  circle A46 centre (249.6478, -218.5067) radius 1.65 projected
  circle A47 centre (249.6478, 470.4933) radius 1.65 projected
  circle A48 centre (249.6478, 456.4933) radius 1.65 projected
  circle A49 centre (249.6478, 263.9933) radius 1.65 projected
  circle A50 centre (249.6478, 293.9933) radius 1.65 projected
  circle A51 centre (249.6478, 278.9933) radius 1.65 projected
  circle A52 centre (249.6478, -111.0067) radius 1.65 projected
  circle A53 centre (249.6478, -61.0067) radius 1.65 projected
  circle A54 centre (249.6478, -31.0067) radius 1.65 projected
  circle A55 centre (249.6478, 18.9933) radius 1.65 projected
  circle A56 centre (249.6478, 68.9933) radius 1.65 projected
  circle A57 centre (249.6478, 98.9933) radius 1.65 projected
  circle A58 centre (249.6478, 148.9933) radius 1.65 projected
  circle A59 centre (249.6478, 198.9933) radius 1.65 projected
  circle A60 centre (249.6478, 228.9933) radius 1.65 projected
  circle A61 centre (249.6478, 213.9933) radius 1.65 projected
  circle A62 centre (249.6478, 163.9933) radius 1.65 projected
  circle A63 centre (249.6478, 133.9933) radius 1.65 projected
  circle A64 centre (249.6478, 83.9933) radius 1.65 projected
  circle A65 centre (249.6478, 33.9933) radius 1.65 projected
  circle A66 centre (249.6478, 3.9933) radius 1.65 projected
  circle A67 centre (249.6478, -46.0067) radius 1.65 projected
  circle A68 centre (249.6478, -96.0067) radius 1.65 projected
  circle A69 centre (249.6478, -126.0067) radius 1.65 projected
  line L8 (246.1478, -234.0067) -> (246.1478, 485.9933) projected
  line L9 (253.1478, -234.0067) -> (246.1478, -234.0067) projected
  line L10 (253.1478, 485.9933) -> (253.1478, -234.0067) projected
  line L11 (246.1478, 485.9933) -> (253.1478, 485.9933) projected
  circle A70 centre (207.6478, -218.0067) radius 1.65 projected
  circle A71 centre (207.6478, -203.0067) radius 1.65 projected
  circle A72 centre (207.6478, 228.9913) radius 1.65 projected
  circle A73 centre (207.6478, 213.9913) radius 1.65 projected
  circle A74 centre (207.6478, 163.9913) radius 1.65 projected
  circle A75 centre (207.6478, 133.9913) radius 1.65 projected
  circle A76 centre (207.6478, 83.9913) radius 1.65 projected
  circle A77 centre (207.6478, 33.9913) radius 1.65 projected
  circle A78 centre (207.6478, 3.9913) radius 1.65 projected
  circle A79 centre (207.6478, -46.0087) radius 1.65 projected
  circle A80 centre (207.6478, -96.0087) radius 1.65 projected
  circle A81 centre (207.6478, -111.0087) radius 1.65 projected
  circle A82 centre (207.6478, -126.0087) radius 1.65 projected
  circle A83 centre (207.6478, -61.0087) radius 1.65 projected
  circle A84 centre (207.6478, -31.0087) radius 1.65 projected
  circle A85 centre (207.6478, 18.9913) radius 1.65 projected
  circle A86 centre (207.6478, 68.9913) radius 1.65 projected
  circle A87 centre (207.6478, 98.9913) radius 1.65 projected
  circle A88 centre (207.6478, 148.9913) radius 1.65 projected
  circle A89 centre (207.6478, 198.9913) radius 1.65 projected
  line L12 (204.1478, 274.709) -> (211.1478, 274.709) projected
  line L13 (204.1478, -234.0067) -> (204.1478, 274.709) projected
  line L14 (211.1478, -234.0067) -> (204.1478, -234.0067) projected
  line L15 (211.1478, -234.0067) -> (211.1478, 274.709) projected
  line L16 (-251.8522, 485.9933) -> (-126.8522, 485.9933)
  line L17 (-126.8522, 485.9933) -> (-126.8522, 274.709) construction
  line L18 (-126.8522, 274.709) -> (-251.8522, 274.709)
  line L19 (-251.8522, 274.709) -> (-251.8522, 485.9933)
  line L20 (246.1478, 485.9933) -> (121.1478, 485.9933)
  line L21 (121.1478, 485.9933) -> (121.1478, 274.709) construction
  line L22 (121.1478, 274.709) -> (246.1478, 274.709)
  line L23 (246.1478, 274.709) -> (246.1478, 485.9933)
  line L24 (121.1478, 274.709) -> (-126.8522, 274.709)
  line L25 (-126.8522, 485.9933) -> (121.1478, 485.9933)
  point P0 (0, 0)
  dimension "d2" = 125
  dimension "d3" = 125
extrude "Extrusion2" cut sketch "Sketch2" against normal through all contours A0 | A1 | A2 | A3 | A4 | A5 | A6 | A7 | A8 | A9 | A10 | A12 | A13 | A14 | A15 | A16 | A17 | A18 | A19 | A20 | A21 | A22 | A23 | A24 | L0 L16 L25 L20 L8 L22 L12 L24 L18 L4 | A25 | A26 | A27 | A28 | A29 | A30 | A31 | A32 | A33 | A34 | A35 | A36 | A37 | A38 | A39 | A40 | A41 | A42 | A43 | A44 | A45 | A46 | A47 | A48 | A49 | A50 | A51 | A52 | A53 | A54 | A55 | A56 | A57 | A58 | A59 | A60 | A61 | A62 | A63 | A64 | A65 | A66 | A67 | A68 | A69 | A70 | A71 | A72 | A73 | A74 | A75 | A76 | A77 | A78 | A79 | A80 | A81 | A82 | A83 | A84 | A85 | A86 | A87 | A88 | A89
fillet "Fillet1" radius 50 2 edges at (-251.8522, 1.5, 274.709) (246.1478, 1.5, 274.709)
properties part number "Top Aluminium Plate" material "Polycarbonate, Smoke"
